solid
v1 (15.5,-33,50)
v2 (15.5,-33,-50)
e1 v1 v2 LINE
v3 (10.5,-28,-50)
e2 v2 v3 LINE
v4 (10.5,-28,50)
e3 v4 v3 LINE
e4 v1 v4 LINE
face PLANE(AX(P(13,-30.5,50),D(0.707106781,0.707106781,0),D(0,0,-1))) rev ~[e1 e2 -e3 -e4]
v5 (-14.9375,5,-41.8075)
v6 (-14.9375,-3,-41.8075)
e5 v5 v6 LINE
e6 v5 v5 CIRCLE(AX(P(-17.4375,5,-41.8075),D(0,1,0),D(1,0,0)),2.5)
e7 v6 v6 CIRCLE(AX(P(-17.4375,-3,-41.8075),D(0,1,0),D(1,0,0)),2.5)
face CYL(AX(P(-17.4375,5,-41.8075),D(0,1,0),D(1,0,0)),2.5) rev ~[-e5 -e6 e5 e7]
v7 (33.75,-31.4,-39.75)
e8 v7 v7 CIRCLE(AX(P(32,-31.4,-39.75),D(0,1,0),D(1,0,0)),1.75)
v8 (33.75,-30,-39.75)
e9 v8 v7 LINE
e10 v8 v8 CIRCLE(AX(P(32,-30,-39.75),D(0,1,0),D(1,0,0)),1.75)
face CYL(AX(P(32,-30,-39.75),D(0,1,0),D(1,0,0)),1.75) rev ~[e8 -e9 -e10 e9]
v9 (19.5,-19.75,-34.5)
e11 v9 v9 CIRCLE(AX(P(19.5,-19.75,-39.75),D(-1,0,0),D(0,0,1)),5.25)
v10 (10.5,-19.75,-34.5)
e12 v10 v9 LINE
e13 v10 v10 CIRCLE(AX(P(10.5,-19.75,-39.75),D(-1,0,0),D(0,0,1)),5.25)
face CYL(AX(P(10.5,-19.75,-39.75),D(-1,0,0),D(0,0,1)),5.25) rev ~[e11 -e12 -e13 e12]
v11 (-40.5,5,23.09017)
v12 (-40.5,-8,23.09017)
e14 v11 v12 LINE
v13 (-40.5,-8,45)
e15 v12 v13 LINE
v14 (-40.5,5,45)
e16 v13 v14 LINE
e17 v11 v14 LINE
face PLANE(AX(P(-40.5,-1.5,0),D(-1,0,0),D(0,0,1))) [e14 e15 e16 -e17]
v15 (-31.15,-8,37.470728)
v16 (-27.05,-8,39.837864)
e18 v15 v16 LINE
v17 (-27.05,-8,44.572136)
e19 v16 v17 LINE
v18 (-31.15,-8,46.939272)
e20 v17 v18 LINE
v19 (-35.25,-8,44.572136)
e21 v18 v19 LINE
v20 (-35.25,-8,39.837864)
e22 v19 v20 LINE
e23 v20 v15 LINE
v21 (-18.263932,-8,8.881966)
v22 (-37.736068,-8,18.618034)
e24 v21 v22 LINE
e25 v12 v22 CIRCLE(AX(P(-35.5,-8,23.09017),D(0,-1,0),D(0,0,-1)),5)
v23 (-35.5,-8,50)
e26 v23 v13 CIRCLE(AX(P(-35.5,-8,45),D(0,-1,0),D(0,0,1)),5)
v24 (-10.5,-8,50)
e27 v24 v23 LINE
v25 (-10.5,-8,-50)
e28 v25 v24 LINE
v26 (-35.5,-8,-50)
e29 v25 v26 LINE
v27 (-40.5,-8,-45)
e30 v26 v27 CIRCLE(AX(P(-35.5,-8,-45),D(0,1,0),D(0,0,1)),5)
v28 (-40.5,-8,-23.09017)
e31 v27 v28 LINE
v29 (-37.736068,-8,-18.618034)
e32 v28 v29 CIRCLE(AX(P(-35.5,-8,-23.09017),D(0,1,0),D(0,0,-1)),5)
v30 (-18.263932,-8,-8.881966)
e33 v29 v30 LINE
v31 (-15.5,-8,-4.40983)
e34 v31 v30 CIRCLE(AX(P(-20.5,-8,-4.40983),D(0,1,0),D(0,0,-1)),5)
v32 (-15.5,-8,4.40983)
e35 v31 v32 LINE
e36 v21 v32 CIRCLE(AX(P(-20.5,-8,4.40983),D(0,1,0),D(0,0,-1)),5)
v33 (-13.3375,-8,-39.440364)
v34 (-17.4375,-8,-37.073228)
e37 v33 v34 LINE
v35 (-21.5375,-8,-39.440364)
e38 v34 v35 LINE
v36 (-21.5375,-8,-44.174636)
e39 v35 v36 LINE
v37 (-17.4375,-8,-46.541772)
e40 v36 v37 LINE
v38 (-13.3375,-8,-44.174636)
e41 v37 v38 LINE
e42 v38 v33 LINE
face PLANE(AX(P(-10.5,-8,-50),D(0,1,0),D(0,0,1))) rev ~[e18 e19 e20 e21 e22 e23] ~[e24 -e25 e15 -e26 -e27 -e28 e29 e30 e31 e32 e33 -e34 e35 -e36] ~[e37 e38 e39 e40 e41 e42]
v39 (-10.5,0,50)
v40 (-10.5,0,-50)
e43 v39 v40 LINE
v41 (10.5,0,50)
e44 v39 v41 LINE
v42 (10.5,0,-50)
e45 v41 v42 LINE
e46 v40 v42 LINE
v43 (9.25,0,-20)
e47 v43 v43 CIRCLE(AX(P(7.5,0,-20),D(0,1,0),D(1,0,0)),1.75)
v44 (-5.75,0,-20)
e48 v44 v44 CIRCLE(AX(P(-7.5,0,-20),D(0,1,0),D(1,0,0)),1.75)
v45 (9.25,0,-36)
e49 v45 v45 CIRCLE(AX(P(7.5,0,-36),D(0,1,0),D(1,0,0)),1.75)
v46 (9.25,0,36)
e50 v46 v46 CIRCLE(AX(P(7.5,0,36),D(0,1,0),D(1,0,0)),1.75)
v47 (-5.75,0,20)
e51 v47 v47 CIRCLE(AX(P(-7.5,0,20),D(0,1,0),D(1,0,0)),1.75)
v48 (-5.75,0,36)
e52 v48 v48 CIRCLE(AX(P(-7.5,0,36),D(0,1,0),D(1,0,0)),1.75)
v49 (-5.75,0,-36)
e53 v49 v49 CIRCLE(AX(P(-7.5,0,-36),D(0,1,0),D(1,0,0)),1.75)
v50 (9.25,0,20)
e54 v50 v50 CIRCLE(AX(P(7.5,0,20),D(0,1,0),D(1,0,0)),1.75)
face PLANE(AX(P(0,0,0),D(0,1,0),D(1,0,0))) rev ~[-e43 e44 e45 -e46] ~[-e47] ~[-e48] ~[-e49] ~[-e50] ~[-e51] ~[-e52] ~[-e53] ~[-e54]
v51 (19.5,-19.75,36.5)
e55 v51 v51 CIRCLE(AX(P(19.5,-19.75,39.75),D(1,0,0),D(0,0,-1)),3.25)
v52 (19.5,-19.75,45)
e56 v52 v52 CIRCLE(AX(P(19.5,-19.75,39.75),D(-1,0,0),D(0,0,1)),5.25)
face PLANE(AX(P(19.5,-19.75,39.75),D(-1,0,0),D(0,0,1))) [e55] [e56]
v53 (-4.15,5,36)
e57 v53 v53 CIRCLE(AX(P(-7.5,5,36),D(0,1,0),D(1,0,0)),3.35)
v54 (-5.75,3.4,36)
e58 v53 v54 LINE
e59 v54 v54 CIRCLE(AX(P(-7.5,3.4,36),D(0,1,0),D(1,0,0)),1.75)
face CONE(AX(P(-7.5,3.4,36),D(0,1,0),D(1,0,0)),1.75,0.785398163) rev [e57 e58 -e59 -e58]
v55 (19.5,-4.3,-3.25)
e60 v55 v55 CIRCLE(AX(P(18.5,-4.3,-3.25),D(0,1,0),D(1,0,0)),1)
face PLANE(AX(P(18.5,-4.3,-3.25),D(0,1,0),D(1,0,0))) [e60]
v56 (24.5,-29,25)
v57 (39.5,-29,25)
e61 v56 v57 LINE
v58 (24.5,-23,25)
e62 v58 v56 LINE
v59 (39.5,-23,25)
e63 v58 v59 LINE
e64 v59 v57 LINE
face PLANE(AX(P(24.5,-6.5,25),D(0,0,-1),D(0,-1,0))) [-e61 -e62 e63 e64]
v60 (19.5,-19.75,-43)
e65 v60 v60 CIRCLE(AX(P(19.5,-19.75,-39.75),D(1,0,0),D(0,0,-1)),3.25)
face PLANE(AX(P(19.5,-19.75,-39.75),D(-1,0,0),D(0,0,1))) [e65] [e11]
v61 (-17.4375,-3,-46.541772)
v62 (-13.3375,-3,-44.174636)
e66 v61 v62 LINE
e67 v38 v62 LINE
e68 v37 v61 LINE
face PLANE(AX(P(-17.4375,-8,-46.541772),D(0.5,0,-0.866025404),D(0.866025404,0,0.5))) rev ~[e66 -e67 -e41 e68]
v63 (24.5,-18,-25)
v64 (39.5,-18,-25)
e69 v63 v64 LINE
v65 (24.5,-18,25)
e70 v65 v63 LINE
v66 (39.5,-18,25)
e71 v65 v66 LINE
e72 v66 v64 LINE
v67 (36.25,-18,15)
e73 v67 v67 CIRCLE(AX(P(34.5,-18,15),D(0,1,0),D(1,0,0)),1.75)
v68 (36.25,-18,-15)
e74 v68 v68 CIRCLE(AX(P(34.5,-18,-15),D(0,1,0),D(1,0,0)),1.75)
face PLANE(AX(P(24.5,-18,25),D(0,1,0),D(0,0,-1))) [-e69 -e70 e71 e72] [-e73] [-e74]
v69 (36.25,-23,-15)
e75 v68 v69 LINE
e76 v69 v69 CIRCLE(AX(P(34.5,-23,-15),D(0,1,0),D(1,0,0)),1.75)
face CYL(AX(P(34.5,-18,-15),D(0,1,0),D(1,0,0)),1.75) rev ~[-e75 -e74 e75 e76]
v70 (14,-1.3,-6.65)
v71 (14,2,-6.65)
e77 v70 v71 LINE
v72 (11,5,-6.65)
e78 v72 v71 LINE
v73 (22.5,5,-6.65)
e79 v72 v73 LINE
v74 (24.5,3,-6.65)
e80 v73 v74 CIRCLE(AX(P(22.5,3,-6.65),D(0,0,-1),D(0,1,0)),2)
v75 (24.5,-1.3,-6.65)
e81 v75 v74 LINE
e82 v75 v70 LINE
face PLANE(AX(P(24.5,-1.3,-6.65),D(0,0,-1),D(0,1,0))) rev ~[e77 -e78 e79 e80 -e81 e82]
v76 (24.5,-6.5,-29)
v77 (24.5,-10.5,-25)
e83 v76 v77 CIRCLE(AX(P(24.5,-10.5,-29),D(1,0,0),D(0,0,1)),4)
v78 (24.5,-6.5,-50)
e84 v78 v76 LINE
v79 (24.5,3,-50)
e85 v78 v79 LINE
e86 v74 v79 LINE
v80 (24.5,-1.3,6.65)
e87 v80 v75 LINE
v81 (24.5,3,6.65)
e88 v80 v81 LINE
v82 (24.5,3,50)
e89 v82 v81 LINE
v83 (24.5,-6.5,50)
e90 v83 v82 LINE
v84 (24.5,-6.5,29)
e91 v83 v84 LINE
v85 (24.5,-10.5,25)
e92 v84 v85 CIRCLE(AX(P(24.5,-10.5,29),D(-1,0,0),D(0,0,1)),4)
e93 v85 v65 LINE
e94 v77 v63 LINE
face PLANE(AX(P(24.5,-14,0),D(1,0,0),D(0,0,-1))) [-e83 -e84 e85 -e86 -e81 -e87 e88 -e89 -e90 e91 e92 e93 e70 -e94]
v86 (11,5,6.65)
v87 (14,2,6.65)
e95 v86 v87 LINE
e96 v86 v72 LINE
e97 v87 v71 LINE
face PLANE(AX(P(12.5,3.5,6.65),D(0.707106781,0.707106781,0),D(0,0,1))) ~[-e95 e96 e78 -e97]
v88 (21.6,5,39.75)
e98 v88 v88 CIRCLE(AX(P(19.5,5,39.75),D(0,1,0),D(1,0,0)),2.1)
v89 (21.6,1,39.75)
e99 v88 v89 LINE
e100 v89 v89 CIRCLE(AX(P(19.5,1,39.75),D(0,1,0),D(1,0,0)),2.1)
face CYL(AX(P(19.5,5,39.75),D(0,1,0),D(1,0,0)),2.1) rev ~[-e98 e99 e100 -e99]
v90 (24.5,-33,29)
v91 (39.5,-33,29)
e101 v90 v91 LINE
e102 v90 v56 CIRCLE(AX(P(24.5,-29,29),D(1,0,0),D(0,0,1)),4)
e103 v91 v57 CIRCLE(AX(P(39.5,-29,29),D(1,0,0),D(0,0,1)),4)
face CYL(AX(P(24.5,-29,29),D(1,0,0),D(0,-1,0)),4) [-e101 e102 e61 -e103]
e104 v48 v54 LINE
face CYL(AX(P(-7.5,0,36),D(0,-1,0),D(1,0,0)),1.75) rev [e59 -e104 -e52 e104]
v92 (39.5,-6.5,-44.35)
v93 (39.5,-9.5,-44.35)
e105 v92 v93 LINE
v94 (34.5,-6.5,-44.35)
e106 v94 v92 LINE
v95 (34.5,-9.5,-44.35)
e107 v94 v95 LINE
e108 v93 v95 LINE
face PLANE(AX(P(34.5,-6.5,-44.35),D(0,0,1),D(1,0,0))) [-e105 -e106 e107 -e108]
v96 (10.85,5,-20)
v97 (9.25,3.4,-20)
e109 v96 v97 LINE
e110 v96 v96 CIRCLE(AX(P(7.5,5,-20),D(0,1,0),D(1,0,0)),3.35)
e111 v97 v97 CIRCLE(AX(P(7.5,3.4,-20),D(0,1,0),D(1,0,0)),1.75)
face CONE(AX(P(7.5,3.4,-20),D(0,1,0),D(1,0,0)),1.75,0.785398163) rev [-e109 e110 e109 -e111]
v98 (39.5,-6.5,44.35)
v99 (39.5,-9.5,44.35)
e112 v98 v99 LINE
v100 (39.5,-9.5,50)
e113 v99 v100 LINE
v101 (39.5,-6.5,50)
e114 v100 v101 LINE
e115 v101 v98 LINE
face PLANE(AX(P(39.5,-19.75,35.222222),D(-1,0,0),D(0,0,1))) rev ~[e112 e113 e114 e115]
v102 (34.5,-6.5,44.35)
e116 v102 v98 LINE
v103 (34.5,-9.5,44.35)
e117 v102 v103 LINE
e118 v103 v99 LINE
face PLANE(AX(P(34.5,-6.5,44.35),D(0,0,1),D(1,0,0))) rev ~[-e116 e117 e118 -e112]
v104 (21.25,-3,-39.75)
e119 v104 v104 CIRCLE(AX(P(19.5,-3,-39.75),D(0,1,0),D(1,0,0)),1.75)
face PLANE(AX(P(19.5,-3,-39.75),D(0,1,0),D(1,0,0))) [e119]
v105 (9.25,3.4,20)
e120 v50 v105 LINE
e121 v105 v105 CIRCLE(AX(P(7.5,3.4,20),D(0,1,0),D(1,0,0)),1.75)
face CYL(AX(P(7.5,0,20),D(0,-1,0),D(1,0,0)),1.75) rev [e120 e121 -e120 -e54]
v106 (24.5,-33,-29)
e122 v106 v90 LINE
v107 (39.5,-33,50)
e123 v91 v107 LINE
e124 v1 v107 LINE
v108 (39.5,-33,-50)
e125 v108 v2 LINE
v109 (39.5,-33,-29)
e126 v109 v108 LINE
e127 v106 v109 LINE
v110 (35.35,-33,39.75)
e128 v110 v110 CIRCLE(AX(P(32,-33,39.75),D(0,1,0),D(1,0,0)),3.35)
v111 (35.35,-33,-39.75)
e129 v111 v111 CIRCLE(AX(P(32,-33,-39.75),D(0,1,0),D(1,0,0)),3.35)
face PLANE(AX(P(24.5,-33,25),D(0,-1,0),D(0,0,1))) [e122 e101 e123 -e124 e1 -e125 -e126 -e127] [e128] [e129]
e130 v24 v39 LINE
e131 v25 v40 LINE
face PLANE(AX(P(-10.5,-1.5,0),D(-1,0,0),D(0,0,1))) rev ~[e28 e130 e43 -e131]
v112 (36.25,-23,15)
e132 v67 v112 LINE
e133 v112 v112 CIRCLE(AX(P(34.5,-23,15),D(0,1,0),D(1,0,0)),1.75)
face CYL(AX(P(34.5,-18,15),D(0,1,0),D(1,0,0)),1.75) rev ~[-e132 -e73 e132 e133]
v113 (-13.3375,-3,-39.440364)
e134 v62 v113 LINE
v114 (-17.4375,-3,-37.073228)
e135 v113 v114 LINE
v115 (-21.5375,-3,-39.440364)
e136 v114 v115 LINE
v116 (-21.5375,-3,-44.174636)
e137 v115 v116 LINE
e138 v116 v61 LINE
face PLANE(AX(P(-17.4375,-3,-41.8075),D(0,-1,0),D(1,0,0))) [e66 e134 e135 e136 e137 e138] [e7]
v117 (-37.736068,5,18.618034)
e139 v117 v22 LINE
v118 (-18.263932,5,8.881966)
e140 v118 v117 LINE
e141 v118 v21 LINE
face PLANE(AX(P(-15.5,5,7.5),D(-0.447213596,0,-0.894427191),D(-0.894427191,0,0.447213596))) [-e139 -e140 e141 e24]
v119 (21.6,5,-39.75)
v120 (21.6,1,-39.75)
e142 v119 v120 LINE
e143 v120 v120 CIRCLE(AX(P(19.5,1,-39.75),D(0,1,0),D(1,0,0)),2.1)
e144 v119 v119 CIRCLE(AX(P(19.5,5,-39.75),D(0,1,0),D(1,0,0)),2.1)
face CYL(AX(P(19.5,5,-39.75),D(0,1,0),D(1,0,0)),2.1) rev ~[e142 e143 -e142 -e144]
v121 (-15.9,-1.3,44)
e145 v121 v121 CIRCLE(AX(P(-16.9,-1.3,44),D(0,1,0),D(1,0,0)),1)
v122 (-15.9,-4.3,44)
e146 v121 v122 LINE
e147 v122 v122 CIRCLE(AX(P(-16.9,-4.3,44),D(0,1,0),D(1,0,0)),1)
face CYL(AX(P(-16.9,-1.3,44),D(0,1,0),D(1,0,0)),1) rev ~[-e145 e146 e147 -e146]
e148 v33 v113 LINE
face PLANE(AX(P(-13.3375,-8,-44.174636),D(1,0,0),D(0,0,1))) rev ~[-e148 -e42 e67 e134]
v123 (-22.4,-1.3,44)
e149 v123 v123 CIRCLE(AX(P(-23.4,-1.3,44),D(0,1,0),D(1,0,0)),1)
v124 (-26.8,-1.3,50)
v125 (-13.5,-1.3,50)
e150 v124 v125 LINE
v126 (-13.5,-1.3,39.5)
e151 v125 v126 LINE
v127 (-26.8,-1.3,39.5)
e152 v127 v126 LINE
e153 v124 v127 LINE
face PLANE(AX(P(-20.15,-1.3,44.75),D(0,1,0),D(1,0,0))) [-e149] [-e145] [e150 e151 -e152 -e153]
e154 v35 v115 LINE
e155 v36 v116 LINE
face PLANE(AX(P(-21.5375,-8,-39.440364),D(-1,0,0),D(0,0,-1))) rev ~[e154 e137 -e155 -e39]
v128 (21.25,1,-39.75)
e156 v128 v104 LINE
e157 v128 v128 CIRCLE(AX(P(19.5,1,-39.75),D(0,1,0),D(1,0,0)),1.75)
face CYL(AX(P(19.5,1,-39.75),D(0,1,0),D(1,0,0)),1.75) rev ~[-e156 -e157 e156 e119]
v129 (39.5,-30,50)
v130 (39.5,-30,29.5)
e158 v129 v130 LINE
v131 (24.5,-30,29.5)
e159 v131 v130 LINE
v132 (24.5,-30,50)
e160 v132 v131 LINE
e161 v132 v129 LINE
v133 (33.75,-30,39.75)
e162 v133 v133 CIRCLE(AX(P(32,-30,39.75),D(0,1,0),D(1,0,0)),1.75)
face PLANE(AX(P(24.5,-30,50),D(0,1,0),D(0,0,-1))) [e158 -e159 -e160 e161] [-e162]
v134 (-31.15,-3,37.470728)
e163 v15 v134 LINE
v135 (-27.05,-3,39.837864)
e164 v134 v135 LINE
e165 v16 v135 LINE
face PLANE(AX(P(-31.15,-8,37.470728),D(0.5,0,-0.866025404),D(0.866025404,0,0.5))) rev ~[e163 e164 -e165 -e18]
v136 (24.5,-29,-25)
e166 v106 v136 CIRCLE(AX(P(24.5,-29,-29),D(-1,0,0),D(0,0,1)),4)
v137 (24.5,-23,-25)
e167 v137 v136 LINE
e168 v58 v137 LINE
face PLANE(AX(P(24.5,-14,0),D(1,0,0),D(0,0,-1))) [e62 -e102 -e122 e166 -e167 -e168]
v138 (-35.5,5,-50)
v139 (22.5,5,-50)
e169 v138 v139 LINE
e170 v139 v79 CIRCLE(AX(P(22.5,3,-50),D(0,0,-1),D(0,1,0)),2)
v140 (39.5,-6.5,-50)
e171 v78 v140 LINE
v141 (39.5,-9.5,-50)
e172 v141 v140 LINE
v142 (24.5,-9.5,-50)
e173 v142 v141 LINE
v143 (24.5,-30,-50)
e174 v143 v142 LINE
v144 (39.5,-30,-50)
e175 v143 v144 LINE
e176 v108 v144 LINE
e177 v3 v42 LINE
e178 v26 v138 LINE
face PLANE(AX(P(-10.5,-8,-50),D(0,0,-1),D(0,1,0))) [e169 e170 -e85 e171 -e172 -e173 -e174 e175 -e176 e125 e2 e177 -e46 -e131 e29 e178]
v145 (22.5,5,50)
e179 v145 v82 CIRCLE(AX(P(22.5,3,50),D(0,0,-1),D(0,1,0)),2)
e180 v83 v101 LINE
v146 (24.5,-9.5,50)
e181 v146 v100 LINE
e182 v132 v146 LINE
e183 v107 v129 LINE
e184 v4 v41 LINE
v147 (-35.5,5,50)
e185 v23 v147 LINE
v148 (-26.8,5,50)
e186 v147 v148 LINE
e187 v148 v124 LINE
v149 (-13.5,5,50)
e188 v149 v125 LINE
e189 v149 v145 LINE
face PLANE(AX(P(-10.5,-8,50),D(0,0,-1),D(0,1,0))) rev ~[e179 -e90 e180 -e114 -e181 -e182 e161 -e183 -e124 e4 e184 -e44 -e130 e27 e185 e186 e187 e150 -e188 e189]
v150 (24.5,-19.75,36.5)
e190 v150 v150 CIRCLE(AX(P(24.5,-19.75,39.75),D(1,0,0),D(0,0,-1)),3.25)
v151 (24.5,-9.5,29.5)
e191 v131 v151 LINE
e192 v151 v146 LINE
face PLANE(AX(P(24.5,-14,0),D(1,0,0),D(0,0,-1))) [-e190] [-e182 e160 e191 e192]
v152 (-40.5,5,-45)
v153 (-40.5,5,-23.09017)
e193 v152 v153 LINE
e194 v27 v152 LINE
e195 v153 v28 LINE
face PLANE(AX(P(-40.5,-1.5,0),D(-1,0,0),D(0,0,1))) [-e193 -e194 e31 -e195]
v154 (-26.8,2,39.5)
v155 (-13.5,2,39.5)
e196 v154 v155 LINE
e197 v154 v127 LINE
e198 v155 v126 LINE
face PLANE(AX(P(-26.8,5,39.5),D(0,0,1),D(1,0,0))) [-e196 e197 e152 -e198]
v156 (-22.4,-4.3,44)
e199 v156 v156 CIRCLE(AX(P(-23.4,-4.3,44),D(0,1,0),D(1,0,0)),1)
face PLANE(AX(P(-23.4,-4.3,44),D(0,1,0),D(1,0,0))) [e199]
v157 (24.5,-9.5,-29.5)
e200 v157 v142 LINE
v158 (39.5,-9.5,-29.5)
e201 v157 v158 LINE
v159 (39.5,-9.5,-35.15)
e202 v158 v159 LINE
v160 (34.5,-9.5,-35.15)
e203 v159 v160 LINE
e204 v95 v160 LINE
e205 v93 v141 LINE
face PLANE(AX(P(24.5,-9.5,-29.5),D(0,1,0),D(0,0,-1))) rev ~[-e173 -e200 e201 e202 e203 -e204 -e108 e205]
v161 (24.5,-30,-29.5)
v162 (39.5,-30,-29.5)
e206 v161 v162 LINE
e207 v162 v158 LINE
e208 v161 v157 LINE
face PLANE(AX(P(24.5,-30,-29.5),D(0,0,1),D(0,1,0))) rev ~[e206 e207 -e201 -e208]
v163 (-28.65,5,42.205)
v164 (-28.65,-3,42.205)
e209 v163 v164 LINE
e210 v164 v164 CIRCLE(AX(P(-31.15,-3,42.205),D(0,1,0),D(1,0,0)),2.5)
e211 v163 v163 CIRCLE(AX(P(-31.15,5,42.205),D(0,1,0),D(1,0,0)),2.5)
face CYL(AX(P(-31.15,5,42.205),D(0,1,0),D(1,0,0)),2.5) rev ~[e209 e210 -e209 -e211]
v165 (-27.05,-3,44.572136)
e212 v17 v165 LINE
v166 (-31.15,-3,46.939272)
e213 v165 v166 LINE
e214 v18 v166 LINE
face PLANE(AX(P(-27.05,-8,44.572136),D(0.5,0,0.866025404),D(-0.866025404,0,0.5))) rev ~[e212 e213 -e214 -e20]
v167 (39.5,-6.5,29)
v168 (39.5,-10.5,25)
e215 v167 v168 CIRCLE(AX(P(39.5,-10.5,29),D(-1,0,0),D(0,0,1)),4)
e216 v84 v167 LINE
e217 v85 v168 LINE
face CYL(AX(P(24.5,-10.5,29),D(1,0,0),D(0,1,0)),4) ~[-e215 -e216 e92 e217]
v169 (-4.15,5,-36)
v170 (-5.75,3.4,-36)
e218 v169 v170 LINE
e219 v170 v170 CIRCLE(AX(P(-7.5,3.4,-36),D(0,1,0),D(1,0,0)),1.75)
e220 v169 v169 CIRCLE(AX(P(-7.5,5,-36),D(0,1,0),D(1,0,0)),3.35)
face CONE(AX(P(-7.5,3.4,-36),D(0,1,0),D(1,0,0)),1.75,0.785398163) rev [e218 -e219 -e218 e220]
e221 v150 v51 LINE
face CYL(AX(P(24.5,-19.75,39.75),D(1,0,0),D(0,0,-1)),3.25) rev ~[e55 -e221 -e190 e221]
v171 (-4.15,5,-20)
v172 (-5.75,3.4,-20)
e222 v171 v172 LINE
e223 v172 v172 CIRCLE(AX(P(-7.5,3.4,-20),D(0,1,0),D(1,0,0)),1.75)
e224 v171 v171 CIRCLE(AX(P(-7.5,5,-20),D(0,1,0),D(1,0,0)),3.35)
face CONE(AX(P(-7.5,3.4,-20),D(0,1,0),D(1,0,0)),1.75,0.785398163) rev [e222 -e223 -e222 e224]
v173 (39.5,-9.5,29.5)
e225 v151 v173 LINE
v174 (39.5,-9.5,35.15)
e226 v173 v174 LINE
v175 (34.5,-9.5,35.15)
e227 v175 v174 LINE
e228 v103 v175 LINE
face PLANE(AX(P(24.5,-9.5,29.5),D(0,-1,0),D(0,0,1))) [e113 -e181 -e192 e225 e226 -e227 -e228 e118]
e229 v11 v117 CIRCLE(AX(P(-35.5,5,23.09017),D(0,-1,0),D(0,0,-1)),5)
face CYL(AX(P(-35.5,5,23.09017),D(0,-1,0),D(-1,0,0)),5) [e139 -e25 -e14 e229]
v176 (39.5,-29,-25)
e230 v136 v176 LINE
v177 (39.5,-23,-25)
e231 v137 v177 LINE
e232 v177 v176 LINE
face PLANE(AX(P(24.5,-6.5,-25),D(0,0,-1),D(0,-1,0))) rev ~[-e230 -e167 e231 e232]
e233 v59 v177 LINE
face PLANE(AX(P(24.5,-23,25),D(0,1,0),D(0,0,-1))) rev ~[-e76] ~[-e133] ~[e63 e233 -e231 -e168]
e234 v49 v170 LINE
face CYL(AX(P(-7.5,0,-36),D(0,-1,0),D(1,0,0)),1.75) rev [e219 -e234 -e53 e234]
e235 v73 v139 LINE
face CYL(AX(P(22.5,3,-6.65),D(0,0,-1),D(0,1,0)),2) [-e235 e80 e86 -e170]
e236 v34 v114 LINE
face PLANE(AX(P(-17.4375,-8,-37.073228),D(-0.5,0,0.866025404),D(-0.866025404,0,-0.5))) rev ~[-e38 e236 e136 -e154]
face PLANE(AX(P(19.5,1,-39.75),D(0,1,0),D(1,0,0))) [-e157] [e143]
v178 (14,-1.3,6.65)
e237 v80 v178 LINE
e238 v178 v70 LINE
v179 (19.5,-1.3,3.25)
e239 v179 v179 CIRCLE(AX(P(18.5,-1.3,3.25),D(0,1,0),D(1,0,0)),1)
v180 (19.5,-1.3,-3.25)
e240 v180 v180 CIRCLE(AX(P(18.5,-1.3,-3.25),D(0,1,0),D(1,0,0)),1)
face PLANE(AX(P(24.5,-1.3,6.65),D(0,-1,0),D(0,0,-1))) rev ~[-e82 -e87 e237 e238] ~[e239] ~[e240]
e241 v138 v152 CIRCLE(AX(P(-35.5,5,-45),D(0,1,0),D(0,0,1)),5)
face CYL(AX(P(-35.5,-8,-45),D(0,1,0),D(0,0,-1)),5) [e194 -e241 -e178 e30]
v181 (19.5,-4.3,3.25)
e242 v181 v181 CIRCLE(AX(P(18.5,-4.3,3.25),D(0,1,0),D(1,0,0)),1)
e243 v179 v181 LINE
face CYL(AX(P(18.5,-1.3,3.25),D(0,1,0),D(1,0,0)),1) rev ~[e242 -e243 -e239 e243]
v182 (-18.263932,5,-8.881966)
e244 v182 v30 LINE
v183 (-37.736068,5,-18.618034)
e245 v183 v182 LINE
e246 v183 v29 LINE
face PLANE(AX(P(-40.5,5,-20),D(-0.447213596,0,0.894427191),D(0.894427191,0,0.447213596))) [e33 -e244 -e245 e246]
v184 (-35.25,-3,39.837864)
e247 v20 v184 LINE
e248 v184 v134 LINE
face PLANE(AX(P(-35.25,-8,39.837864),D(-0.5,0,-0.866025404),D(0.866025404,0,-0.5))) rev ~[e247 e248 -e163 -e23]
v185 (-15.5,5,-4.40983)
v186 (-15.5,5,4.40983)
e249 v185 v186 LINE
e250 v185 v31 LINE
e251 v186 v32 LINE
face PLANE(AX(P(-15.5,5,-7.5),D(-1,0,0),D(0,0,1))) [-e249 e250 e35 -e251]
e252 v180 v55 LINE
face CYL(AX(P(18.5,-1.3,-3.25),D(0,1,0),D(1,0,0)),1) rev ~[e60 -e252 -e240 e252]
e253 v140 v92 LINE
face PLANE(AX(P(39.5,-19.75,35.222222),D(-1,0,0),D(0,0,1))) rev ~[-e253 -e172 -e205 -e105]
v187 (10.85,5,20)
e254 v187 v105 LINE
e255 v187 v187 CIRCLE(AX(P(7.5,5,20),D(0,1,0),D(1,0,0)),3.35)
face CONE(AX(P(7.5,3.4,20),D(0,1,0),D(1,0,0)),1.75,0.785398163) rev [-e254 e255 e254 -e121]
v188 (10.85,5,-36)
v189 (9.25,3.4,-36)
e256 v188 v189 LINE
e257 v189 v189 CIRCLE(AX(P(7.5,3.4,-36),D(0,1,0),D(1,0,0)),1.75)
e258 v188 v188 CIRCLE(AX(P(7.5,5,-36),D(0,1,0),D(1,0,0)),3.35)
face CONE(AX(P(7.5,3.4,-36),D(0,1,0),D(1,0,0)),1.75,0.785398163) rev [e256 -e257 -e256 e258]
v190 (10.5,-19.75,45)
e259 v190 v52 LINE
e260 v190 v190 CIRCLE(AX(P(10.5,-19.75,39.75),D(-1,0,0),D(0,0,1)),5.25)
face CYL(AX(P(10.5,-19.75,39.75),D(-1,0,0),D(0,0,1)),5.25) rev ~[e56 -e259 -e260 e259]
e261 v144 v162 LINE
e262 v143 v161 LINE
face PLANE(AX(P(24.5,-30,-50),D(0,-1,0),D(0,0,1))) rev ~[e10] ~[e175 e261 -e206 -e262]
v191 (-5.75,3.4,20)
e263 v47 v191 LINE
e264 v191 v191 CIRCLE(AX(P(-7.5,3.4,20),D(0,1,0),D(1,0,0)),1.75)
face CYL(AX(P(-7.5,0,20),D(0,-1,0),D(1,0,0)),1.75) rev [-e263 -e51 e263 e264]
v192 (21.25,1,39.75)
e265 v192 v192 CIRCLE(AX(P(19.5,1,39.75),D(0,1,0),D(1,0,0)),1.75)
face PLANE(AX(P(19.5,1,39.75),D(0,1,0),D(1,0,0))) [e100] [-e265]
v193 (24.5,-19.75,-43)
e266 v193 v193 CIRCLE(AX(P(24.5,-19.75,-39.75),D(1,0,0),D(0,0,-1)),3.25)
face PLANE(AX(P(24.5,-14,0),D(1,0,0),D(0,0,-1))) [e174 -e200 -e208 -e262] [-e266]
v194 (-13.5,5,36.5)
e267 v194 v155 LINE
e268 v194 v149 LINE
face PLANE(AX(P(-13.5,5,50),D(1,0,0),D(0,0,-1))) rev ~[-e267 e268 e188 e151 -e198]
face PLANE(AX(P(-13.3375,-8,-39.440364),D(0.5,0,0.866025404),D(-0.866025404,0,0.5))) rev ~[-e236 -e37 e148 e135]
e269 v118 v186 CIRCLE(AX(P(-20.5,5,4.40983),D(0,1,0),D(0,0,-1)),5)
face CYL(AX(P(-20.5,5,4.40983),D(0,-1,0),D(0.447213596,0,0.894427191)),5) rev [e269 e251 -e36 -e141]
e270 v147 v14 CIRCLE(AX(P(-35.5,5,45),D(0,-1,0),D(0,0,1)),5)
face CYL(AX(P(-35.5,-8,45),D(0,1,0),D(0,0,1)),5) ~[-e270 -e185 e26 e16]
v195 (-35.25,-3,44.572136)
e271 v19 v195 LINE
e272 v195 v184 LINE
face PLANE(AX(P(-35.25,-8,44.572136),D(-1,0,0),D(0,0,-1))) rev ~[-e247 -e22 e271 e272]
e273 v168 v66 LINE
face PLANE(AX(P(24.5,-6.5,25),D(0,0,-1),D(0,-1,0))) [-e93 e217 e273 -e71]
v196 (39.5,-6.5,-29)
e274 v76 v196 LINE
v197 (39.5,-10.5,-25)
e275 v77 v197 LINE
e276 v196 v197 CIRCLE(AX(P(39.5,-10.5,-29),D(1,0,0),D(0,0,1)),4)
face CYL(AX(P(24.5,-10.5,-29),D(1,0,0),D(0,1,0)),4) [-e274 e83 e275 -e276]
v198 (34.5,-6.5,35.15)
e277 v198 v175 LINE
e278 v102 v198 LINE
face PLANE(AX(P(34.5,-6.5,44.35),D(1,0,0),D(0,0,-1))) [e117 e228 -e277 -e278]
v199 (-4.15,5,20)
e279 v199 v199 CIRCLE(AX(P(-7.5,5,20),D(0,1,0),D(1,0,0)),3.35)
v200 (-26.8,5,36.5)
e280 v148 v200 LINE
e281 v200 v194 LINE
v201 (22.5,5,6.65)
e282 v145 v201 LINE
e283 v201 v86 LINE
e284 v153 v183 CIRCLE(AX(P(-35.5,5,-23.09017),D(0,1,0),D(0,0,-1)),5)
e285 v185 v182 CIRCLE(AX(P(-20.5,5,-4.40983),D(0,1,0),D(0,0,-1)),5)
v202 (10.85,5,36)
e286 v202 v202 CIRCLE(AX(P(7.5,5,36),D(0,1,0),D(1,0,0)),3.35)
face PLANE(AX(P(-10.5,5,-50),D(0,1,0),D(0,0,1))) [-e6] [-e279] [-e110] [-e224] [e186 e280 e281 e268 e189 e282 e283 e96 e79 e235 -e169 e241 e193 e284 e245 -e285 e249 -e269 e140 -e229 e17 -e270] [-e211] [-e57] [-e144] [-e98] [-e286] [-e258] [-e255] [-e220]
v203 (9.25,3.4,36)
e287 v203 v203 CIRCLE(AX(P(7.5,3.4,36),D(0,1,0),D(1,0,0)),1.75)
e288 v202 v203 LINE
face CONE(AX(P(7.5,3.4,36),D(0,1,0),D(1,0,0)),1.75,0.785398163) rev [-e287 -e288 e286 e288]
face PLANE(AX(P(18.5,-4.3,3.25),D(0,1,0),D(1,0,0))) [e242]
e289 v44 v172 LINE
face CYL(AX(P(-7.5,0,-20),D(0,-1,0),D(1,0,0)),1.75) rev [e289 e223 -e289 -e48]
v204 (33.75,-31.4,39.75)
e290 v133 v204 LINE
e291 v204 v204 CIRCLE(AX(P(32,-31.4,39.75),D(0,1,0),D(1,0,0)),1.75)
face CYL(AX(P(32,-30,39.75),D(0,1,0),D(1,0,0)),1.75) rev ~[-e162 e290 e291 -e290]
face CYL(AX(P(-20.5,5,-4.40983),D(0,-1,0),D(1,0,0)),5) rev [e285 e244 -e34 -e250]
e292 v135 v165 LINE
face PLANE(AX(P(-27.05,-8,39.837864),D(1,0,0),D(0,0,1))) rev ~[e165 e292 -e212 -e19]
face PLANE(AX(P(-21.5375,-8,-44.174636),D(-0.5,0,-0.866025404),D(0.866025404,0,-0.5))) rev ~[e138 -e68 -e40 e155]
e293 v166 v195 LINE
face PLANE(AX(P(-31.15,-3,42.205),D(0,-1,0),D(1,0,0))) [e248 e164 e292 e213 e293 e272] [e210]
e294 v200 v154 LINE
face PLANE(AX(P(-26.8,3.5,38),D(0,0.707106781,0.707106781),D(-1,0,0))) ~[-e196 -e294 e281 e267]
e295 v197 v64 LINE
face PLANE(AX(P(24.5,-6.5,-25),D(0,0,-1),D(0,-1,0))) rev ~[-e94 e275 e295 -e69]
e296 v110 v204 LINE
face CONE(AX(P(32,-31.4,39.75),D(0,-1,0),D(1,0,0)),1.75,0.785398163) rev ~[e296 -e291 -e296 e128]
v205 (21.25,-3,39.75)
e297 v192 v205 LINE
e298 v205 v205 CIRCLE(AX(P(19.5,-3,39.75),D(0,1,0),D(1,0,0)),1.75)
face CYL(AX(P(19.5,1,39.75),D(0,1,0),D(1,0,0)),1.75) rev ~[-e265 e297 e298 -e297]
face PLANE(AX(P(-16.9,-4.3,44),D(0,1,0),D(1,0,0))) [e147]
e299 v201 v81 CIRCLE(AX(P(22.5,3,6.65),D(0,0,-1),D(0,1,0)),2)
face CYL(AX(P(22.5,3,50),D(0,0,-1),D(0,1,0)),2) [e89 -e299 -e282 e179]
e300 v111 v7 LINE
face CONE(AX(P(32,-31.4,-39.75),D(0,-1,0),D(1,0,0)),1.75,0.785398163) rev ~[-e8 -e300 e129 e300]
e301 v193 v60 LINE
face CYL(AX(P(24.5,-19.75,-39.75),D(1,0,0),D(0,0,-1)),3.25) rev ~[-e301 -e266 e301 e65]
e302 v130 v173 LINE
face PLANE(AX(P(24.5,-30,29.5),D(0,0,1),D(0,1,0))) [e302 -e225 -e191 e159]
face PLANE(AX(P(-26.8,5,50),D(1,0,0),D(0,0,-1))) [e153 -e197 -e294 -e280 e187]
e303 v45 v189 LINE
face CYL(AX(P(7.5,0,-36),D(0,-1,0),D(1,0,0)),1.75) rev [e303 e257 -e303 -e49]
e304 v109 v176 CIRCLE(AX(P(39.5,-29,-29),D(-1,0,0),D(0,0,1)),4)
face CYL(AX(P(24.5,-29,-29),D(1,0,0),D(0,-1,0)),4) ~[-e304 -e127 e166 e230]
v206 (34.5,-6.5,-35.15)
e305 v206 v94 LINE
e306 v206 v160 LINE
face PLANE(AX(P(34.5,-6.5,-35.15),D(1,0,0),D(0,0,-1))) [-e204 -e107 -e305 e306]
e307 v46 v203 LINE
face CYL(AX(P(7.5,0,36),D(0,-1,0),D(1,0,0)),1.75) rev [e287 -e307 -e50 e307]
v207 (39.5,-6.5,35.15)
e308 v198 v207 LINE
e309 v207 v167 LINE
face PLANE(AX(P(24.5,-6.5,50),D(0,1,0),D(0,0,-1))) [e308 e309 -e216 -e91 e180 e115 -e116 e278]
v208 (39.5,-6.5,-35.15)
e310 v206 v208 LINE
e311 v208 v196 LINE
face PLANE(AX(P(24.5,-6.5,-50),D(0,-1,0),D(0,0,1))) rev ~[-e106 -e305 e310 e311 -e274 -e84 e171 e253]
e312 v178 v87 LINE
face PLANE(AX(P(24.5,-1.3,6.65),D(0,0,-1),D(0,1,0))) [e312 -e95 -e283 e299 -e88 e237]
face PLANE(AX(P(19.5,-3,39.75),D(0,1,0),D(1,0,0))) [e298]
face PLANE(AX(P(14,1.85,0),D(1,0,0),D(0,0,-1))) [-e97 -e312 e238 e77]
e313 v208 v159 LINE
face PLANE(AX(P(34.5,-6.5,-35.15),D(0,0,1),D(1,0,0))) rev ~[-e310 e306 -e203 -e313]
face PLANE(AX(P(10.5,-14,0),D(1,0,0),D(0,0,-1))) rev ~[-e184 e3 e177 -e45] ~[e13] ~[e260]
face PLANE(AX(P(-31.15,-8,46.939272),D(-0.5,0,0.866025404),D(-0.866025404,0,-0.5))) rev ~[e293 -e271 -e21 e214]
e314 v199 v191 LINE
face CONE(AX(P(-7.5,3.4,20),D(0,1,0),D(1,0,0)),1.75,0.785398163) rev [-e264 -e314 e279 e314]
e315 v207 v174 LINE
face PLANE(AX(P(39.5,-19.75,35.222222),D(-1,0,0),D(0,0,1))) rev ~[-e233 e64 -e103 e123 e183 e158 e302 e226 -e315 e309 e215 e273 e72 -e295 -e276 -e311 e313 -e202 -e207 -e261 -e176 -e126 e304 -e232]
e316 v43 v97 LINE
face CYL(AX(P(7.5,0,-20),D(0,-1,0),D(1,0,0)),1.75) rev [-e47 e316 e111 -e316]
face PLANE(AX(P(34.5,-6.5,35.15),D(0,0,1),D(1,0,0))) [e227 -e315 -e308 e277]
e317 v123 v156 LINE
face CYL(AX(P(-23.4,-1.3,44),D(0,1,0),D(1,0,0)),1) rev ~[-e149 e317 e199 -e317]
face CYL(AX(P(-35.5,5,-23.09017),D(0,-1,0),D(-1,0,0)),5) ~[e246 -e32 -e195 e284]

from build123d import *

# Parameters (mm, degrees)
SKETCH1_W           = 21
SKETCH1_H           = 100
SKETCH1_R           = 1.75
BOSS_EXTRUDE1_DEPTH = 5
SKETCH2_W           = 100
SKETCH2_H           = 38
BOSS_EXTRUDE2_DEPTH = 14
SKETCH3_W           = 50
SKETCH3_H           = 5
BOSS_EXTRUDE3_DEPTH = 15
SKETCH4_R           = 1.75
CUT_EXTRUDE1_DEPTH  = 16
BOSS_EXTRUDE6_DEPTH = 15
SKETCH9_R           = 3.25
CUT_EXTRUDE3_DEPTH  = 36
SKETCH10_R          = 5.25
CUT_EXTRUDE4_DEPTH  = 9
CUT_EXTRUDE5_REACH  = 28.5
SKETCH11_W          = 5
SKETCH11_H          = 9.2
SKETCH12_R          = 1.75
CUT_EXTRUDE6_DEPTH  = 4
SKETCH13_W          = 100
SKETCH13_H          = 13
BOSS_EXTRUDE7_DEPTH = 30
SKETCH14_R          = 2.5
CUT_EXTRUDE7_DEPTH  = 39
CUT_EXTRUDE8_DEPTH  = 5
SKETCH16_R          = 2.1
CUT_EXTRUDE9_DEPTH  = 4
CHAMFER1_SIZE       = 1.6
CUT_EXTRUDE10_DEPTH = 39
CHAMFER2_SIZE       = 1.6
CHAMFER3_SIZE       = 5
SKETCH18_R          = 1.75
CUT_EXTRUDE11_DEPTH = 4
FILLET1_R           = 5
FILLET2_R           = 4
SKETCH19_W          = 13.3
SKETCH19_H          = 6.3
CUT_EXTRUDE12_DEPTH = 10.5
SKETCH20_R          = 1
CUT_EXTRUDE13_DEPTH = 3
CHAMFER4_SIZE       = 3
FILLET3_R           = 2
SKETCH22_W          = 13.3
SKETCH22_H          = 10.5
CUT_EXTRUDE14_DEPTH = 6.3
SKETCH23_R          = 1
CUT_EXTRUDE15_DEPTH = 3
CHAMFER5_SIZE       = 3


with BuildPart() as part:
    # Sketch1 → Boss-Extrude1 (new body)
    with BuildSketch(Plane(origin=(0, 0, 0), x_dir=(1, 0, 0), z_dir=(0, 1, 0))):
        Rectangle(SKETCH1_W, SKETCH1_H)
        with Locations((-7.5, 36)):
            Circle(SKETCH1_R, mode=Mode.SUBTRACT)
        with Locations((7.5, 36)):
            Circle(SKETCH1_R, mode=Mode.SUBTRACT)
        with Locations((-7.5, 20)):
            Circle(SKETCH1_R, mode=Mode.SUBTRACT)
        with Locations((7.5, 20)):
            Circle(SKETCH1_R, mode=Mode.SUBTRACT)
        with Locations((7.5, -20)):
            Circle(SKETCH1_R, mode=Mode.SUBTRACT)
        with Locations((-7.5, -20)):
            Circle(SKETCH1_R, mode=Mode.SUBTRACT)
        with Locations((7.5, -36)):
            Circle(SKETCH1_R, mode=Mode.SUBTRACT)
        with Locations((-7.5, -36)):
            Circle(SKETCH1_R, mode=Mode.SUBTRACT)
    extrude(amount=BOSS_EXTRUDE1_DEPTH)

    # Sketch2 → Boss-Extrude2 (add)
    with BuildSketch(Plane(origin=(10.5, 0, 0), x_dir=(0, 0, -1), z_dir=(1, 0, 0))):
        with Locations((0, -14)):
            Rectangle(SKETCH2_W, SKETCH2_H)
    extrude(amount=BOSS_EXTRUDE2_DEPTH)

    # Sketch3 → Boss-Extrude3 (add)
    with BuildSketch(Plane(origin=(24.5, 0, 0), x_dir=(0, 0, -1), z_dir=(1, 0, 0))):
        with Locations((0, -20.5)):
            Rectangle(SKETCH3_W, SKETCH3_H)
    extrude(amount=BOSS_EXTRUDE3_DEPTH)

    # Sketch4 → Cut-Extrude1 (cut, through all)
    with BuildSketch(Plane(origin=(0, -18, 0), x_dir=(1, 0, 0), z_dir=(0, 1, 0))):
        with Locations((34.5, 15)):
            Circle(SKETCH4_R)
        with Locations((34.5, -15)):
            Circle(SKETCH4_R)
    extrude(amount=-CUT_EXTRUDE1_DEPTH, mode=Mode.SUBTRACT)

    # Sketch8 → Boss-Extrude6 (add)
    with BuildSketch(Plane(origin=(24.5, 0, 0), x_dir=(0, 0, -1), z_dir=(1, 0, 0))):
        Polygon((-50, -6.5), (-25, -6.5), (-25, -33), (-50, -33), (-50, -30), (-29.5, -30), (-29.5, -9.5), (-50, -9.5), align=None)
        Polygon((29.5, -30), (29.5, -9.5), (50, -9.5), (50, -6.5), (25, -6.5), (25, -33), (50, -33), (50, -30), align=None)
    extrude(amount=BOSS_EXTRUDE6_DEPTH)

    # Sketch9 → Cut-Extrude3 (cut, through all)
    with BuildSketch(Plane(origin=(24.5, 0, 0), x_dir=(0, 0, -1), z_dir=(1, 0, 0))):
        with Locations((-39.75, -19.75)):
            Circle(SKETCH9_R)
        with Locations((39.75, -19.75)):
            Circle(SKETCH9_R)
    extrude(amount=-CUT_EXTRUDE3_DEPTH, mode=Mode.SUBTRACT)

    # Sketch10 → Cut-Extrude4 (cut)
    with BuildSketch(Plane.ZY.offset(-10.5)):
        with Locations((-39.75, -19.75)):
            Circle(SKETCH10_R)
        with Locations((39.75, -19.75)):
            Circle(SKETCH10_R)
    extrude(amount=-CUT_EXTRUDE4_DEPTH, mode=Mode.SUBTRACT)

    # Sketch11 → Cut-Extrude5 (cut, up to next)
    with BuildSketch(Plane(origin=(0, -6.5, 0), x_dir=(1, 0, 0), z_dir=(0, 1, 0)), mode=Mode.PRIVATE) as cut_extrude5_sk1:
        with Locations((37, -39.75)):
            Rectangle(SKETCH11_W, SKETCH11_H)
    cut_extrude5_tool1 = extrude(cut_extrude5_sk1.sketch, amount=-CUT_EXTRUDE5_REACH, mode=Mode.PRIVATE) & part.part
    add(cut_extrude5_tool1.solids().sort_by_distance((37, -6.5, 39.75))[0], mode=Mode.SUBTRACT)
    # Sketch11 → Cut-Extrude5 (cut, up to next)
    with BuildSketch(Plane(origin=(0, -6.5, 0), x_dir=(1, 0, 0), z_dir=(0, 1, 0)), mode=Mode.PRIVATE) as cut_extrude5_sk2:
        with Locations((37, 39.75)):
            Rectangle(SKETCH11_W, SKETCH11_H)
    cut_extrude5_tool2 = extrude(cut_extrude5_sk2.sketch, amount=-CUT_EXTRUDE5_REACH, mode=Mode.PRIVATE) & part.part
    add(cut_extrude5_tool2.solids().sort_by_distance((37, -6.5, -39.75))[0], mode=Mode.SUBTRACT)

    # Sketch12 → Cut-Extrude6 (cut, through all)
    with BuildSketch(Plane(origin=(0, -30, 0), x_dir=(1, 0, 0), z_dir=(0, 1, 0))):
        with Locations((32, -39.75)):
            Circle(SKETCH12_R)
        with Locations((32, 39.75)):
            Circle(SKETCH12_R)
    extrude(amount=-CUT_EXTRUDE6_DEPTH, mode=Mode.SUBTRACT)

    # Sketch13 → Boss-Extrude7 (add)
    with BuildSketch(Plane.ZY.offset(10.5)):
        with Locations((0, -1.5)):
            Rectangle(SKETCH13_W, SKETCH13_H)
    extrude(amount=BOSS_EXTRUDE7_DEPTH)

    # Sketch14 → Cut-Extrude7 (cut, through all)
    with BuildSketch(Plane(origin=(0, 5, 0), x_dir=(1, 0, 0), z_dir=(0, 1, 0))):
        with Locations((-17.4375, 41.8075)):
            Circle(SKETCH14_R)
        with Locations((-31.15, -42.205)):
            Circle(SKETCH14_R)
    extrude(amount=-CUT_EXTRUDE7_DEPTH, mode=Mode.SUBTRACT)

    # Sketch15 → Cut-Extrude8 (cut)
    with BuildSketch(Plane.XZ.offset(8)):
        Polygon((-27.05, 44.572136104), (-31.15, 46.939272207), (-35.25, 44.572136104), (-35.25, 39.837863896), (-31.15, 37.470727793), (-27.05, 39.837863896), align=None)
        Polygon((-13.3375, -44.174636104), (-13.3375, -39.440363896), (-17.4375, -37.073227793), (-21.5375, -39.440363896), (-21.5375, -44.174636104), (-17.4375, -46.541772207), align=None)
    extrude(amount=-CUT_EXTRUDE8_DEPTH, mode=Mode.SUBTRACT)

    # Sketch16 → Cut-Extrude9 (cut)
    with BuildSketch(Plane(origin=(0, 5, 0), x_dir=(1, 0, 0), z_dir=(0, 1, 0))):
        with Locations((19.5, 39.75)):
            Circle(SKETCH16_R)
        with Locations((19.5, -39.75)):
            Circle(SKETCH16_R)
    extrude(amount=-CUT_EXTRUDE9_DEPTH, mode=Mode.SUBTRACT)

    # Chamfer1
    chamfer1_edges = [part.edges().sort_by_distance(p)[0] for p in [
        (-9.25, 5, -36),
        (5.75, 5, -36),
        (-9.25, 5, -20),
        (5.75, 5, -20),
        (5.75, 5, 20),
        (-9.25, 5, 20),
        (5.75, 5, 36),
        (-9.25, 5, 36),
    ]]
    chamfer(chamfer1_edges, length=CHAMFER1_SIZE)

    # Sketch17 → Cut-Extrude10 (cut, through all)
    with BuildSketch(Plane(origin=(0, 5, 0), x_dir=(1, 0, 0), z_dir=(0, 1, 0))):
        Polygon((-40.5, 20), (-15.5, 7.5), (-15.5, -7.5), (-40.5, -20), align=None)
    extrude(amount=-CUT_EXTRUDE10_DEPTH, mode=Mode.SUBTRACT)

    # Chamfer2
    chamfer2_edges = [part.edges().sort_by_distance(p)[0] for p in [
        (30.25, -33, 39.75),
        (30.25, -33, -39.75),
    ]]
    chamfer(chamfer2_edges, length=CHAMFER2_SIZE)

    # Chamfer3
    chamfer3_edges = [part.edges().sort_by_distance(p)[0] for p in [
        (10.5, -33, 0),
    ]]
    chamfer(chamfer3_edges, length=CHAMFER3_SIZE)

    # Sketch18 → Cut-Extrude11 (cut)
    with BuildSketch(Plane(origin=(0, 1, 0), x_dir=(1, 0, 0), z_dir=(0, 1, 0))):
        with Locations((19.5, 39.75)):
            Circle(SKETCH18_R)
        with Locations((19.5, -39.75)):
            Circle(SKETCH18_R)
    extrude(amount=-CUT_EXTRUDE11_DEPTH, mode=Mode.SUBTRACT)

    # Fillet1
    fillet1_edges = [part.edges().sort_by_distance(p)[0] for p in [
        (-40.5, -1.5, -50),
        (-40.5, -1.5, 50),
        (-40.5, -1.5, 20),
        (-40.5, -1.5, -20),
        (-15.5, -1.5, -7.5),
        (-15.5, -1.5, 7.5),
    ]]
    fillet(fillet1_edges, radius=FILLET1_R)

    # Fillet2
    fillet2_edges = [part.edges().sort_by_distance(p)[0] for p in [
        (32, -6.5, -25),
        (32, -33, -25),
        (32, -33, 25),
        (32, -6.5, 25),
    ]]
    fillet(fillet2_edges, radius=FILLET2_R)

    # Sketch19 → Cut-Extrude12 (cut)
    with BuildSketch(Plane(origin=(24.5, 0, 0), x_dir=(0, 0, -1), z_dir=(1, 0, 0))):
        with Locations((0, 1.85)):
            Rectangle(SKETCH19_W, SKETCH19_H)
    extrude(amount=-CUT_EXTRUDE12_DEPTH, mode=Mode.SUBTRACT)

    # Sketch20 → Cut-Extrude13 (cut)
    with BuildSketch(Plane(origin=(0, -1.3, 0), x_dir=(1, 0, 0), z_dir=(0, 1, 0))):
        with Locations((18.5, 3.25)):
            Circle(SKETCH20_R)
        with Locations((18.5, -3.25)):
            Circle(SKETCH20_R)
    extrude(amount=-CUT_EXTRUDE13_DEPTH, mode=Mode.SUBTRACT)

    # Chamfer4
    chamfer4_edges = [part.edges().sort_by_distance(p)[0] for p in [
        (14, 5, 0),
    ]]
    chamfer(chamfer4_edges, length=CHAMFER4_SIZE)

    # Fillet3
    fillet3_edges = [part.edges().sort_by_distance(p)[0] for p in [
        (24.5, 5, 28.325),
        (24.5, 5, -28.325),
    ]]
    fillet(fillet3_edges, radius=FILLET3_R)

    # Sketch22 → Cut-Extrude14 (cut)
    with BuildSketch(Plane(origin=(0, 5, 0), x_dir=(1, 0, 0), z_dir=(0, 1, 0))):
        with Locations((-20.15, -44.75)):
            Rectangle(SKETCH22_W, SKETCH22_H)
    extrude(amount=-CUT_EXTRUDE14_DEPTH, mode=Mode.SUBTRACT)

    # Sketch23 → Cut-Extrude15 (cut)
    with BuildSketch(Plane(origin=(0, -1.3, 0), x_dir=(1, 0, 0), z_dir=(0, 1, 0))):
        with Locations((-23.4, -44)):
            Circle(SKETCH23_R)
        with Locations((-16.9, -44)):
            Circle(SKETCH23_R)
    extrude(amount=-CUT_EXTRUDE15_DEPTH, mode=Mode.SUBTRACT)

    # Chamfer5
    chamfer5_edges = [part.edges().sort_by_distance(p)[0] for p in [
        (-20.15, 5, 39.5),
    ]]
    chamfer(chamfer5_edges, length=CHAMFER5_SIZE)


solid = part.part
